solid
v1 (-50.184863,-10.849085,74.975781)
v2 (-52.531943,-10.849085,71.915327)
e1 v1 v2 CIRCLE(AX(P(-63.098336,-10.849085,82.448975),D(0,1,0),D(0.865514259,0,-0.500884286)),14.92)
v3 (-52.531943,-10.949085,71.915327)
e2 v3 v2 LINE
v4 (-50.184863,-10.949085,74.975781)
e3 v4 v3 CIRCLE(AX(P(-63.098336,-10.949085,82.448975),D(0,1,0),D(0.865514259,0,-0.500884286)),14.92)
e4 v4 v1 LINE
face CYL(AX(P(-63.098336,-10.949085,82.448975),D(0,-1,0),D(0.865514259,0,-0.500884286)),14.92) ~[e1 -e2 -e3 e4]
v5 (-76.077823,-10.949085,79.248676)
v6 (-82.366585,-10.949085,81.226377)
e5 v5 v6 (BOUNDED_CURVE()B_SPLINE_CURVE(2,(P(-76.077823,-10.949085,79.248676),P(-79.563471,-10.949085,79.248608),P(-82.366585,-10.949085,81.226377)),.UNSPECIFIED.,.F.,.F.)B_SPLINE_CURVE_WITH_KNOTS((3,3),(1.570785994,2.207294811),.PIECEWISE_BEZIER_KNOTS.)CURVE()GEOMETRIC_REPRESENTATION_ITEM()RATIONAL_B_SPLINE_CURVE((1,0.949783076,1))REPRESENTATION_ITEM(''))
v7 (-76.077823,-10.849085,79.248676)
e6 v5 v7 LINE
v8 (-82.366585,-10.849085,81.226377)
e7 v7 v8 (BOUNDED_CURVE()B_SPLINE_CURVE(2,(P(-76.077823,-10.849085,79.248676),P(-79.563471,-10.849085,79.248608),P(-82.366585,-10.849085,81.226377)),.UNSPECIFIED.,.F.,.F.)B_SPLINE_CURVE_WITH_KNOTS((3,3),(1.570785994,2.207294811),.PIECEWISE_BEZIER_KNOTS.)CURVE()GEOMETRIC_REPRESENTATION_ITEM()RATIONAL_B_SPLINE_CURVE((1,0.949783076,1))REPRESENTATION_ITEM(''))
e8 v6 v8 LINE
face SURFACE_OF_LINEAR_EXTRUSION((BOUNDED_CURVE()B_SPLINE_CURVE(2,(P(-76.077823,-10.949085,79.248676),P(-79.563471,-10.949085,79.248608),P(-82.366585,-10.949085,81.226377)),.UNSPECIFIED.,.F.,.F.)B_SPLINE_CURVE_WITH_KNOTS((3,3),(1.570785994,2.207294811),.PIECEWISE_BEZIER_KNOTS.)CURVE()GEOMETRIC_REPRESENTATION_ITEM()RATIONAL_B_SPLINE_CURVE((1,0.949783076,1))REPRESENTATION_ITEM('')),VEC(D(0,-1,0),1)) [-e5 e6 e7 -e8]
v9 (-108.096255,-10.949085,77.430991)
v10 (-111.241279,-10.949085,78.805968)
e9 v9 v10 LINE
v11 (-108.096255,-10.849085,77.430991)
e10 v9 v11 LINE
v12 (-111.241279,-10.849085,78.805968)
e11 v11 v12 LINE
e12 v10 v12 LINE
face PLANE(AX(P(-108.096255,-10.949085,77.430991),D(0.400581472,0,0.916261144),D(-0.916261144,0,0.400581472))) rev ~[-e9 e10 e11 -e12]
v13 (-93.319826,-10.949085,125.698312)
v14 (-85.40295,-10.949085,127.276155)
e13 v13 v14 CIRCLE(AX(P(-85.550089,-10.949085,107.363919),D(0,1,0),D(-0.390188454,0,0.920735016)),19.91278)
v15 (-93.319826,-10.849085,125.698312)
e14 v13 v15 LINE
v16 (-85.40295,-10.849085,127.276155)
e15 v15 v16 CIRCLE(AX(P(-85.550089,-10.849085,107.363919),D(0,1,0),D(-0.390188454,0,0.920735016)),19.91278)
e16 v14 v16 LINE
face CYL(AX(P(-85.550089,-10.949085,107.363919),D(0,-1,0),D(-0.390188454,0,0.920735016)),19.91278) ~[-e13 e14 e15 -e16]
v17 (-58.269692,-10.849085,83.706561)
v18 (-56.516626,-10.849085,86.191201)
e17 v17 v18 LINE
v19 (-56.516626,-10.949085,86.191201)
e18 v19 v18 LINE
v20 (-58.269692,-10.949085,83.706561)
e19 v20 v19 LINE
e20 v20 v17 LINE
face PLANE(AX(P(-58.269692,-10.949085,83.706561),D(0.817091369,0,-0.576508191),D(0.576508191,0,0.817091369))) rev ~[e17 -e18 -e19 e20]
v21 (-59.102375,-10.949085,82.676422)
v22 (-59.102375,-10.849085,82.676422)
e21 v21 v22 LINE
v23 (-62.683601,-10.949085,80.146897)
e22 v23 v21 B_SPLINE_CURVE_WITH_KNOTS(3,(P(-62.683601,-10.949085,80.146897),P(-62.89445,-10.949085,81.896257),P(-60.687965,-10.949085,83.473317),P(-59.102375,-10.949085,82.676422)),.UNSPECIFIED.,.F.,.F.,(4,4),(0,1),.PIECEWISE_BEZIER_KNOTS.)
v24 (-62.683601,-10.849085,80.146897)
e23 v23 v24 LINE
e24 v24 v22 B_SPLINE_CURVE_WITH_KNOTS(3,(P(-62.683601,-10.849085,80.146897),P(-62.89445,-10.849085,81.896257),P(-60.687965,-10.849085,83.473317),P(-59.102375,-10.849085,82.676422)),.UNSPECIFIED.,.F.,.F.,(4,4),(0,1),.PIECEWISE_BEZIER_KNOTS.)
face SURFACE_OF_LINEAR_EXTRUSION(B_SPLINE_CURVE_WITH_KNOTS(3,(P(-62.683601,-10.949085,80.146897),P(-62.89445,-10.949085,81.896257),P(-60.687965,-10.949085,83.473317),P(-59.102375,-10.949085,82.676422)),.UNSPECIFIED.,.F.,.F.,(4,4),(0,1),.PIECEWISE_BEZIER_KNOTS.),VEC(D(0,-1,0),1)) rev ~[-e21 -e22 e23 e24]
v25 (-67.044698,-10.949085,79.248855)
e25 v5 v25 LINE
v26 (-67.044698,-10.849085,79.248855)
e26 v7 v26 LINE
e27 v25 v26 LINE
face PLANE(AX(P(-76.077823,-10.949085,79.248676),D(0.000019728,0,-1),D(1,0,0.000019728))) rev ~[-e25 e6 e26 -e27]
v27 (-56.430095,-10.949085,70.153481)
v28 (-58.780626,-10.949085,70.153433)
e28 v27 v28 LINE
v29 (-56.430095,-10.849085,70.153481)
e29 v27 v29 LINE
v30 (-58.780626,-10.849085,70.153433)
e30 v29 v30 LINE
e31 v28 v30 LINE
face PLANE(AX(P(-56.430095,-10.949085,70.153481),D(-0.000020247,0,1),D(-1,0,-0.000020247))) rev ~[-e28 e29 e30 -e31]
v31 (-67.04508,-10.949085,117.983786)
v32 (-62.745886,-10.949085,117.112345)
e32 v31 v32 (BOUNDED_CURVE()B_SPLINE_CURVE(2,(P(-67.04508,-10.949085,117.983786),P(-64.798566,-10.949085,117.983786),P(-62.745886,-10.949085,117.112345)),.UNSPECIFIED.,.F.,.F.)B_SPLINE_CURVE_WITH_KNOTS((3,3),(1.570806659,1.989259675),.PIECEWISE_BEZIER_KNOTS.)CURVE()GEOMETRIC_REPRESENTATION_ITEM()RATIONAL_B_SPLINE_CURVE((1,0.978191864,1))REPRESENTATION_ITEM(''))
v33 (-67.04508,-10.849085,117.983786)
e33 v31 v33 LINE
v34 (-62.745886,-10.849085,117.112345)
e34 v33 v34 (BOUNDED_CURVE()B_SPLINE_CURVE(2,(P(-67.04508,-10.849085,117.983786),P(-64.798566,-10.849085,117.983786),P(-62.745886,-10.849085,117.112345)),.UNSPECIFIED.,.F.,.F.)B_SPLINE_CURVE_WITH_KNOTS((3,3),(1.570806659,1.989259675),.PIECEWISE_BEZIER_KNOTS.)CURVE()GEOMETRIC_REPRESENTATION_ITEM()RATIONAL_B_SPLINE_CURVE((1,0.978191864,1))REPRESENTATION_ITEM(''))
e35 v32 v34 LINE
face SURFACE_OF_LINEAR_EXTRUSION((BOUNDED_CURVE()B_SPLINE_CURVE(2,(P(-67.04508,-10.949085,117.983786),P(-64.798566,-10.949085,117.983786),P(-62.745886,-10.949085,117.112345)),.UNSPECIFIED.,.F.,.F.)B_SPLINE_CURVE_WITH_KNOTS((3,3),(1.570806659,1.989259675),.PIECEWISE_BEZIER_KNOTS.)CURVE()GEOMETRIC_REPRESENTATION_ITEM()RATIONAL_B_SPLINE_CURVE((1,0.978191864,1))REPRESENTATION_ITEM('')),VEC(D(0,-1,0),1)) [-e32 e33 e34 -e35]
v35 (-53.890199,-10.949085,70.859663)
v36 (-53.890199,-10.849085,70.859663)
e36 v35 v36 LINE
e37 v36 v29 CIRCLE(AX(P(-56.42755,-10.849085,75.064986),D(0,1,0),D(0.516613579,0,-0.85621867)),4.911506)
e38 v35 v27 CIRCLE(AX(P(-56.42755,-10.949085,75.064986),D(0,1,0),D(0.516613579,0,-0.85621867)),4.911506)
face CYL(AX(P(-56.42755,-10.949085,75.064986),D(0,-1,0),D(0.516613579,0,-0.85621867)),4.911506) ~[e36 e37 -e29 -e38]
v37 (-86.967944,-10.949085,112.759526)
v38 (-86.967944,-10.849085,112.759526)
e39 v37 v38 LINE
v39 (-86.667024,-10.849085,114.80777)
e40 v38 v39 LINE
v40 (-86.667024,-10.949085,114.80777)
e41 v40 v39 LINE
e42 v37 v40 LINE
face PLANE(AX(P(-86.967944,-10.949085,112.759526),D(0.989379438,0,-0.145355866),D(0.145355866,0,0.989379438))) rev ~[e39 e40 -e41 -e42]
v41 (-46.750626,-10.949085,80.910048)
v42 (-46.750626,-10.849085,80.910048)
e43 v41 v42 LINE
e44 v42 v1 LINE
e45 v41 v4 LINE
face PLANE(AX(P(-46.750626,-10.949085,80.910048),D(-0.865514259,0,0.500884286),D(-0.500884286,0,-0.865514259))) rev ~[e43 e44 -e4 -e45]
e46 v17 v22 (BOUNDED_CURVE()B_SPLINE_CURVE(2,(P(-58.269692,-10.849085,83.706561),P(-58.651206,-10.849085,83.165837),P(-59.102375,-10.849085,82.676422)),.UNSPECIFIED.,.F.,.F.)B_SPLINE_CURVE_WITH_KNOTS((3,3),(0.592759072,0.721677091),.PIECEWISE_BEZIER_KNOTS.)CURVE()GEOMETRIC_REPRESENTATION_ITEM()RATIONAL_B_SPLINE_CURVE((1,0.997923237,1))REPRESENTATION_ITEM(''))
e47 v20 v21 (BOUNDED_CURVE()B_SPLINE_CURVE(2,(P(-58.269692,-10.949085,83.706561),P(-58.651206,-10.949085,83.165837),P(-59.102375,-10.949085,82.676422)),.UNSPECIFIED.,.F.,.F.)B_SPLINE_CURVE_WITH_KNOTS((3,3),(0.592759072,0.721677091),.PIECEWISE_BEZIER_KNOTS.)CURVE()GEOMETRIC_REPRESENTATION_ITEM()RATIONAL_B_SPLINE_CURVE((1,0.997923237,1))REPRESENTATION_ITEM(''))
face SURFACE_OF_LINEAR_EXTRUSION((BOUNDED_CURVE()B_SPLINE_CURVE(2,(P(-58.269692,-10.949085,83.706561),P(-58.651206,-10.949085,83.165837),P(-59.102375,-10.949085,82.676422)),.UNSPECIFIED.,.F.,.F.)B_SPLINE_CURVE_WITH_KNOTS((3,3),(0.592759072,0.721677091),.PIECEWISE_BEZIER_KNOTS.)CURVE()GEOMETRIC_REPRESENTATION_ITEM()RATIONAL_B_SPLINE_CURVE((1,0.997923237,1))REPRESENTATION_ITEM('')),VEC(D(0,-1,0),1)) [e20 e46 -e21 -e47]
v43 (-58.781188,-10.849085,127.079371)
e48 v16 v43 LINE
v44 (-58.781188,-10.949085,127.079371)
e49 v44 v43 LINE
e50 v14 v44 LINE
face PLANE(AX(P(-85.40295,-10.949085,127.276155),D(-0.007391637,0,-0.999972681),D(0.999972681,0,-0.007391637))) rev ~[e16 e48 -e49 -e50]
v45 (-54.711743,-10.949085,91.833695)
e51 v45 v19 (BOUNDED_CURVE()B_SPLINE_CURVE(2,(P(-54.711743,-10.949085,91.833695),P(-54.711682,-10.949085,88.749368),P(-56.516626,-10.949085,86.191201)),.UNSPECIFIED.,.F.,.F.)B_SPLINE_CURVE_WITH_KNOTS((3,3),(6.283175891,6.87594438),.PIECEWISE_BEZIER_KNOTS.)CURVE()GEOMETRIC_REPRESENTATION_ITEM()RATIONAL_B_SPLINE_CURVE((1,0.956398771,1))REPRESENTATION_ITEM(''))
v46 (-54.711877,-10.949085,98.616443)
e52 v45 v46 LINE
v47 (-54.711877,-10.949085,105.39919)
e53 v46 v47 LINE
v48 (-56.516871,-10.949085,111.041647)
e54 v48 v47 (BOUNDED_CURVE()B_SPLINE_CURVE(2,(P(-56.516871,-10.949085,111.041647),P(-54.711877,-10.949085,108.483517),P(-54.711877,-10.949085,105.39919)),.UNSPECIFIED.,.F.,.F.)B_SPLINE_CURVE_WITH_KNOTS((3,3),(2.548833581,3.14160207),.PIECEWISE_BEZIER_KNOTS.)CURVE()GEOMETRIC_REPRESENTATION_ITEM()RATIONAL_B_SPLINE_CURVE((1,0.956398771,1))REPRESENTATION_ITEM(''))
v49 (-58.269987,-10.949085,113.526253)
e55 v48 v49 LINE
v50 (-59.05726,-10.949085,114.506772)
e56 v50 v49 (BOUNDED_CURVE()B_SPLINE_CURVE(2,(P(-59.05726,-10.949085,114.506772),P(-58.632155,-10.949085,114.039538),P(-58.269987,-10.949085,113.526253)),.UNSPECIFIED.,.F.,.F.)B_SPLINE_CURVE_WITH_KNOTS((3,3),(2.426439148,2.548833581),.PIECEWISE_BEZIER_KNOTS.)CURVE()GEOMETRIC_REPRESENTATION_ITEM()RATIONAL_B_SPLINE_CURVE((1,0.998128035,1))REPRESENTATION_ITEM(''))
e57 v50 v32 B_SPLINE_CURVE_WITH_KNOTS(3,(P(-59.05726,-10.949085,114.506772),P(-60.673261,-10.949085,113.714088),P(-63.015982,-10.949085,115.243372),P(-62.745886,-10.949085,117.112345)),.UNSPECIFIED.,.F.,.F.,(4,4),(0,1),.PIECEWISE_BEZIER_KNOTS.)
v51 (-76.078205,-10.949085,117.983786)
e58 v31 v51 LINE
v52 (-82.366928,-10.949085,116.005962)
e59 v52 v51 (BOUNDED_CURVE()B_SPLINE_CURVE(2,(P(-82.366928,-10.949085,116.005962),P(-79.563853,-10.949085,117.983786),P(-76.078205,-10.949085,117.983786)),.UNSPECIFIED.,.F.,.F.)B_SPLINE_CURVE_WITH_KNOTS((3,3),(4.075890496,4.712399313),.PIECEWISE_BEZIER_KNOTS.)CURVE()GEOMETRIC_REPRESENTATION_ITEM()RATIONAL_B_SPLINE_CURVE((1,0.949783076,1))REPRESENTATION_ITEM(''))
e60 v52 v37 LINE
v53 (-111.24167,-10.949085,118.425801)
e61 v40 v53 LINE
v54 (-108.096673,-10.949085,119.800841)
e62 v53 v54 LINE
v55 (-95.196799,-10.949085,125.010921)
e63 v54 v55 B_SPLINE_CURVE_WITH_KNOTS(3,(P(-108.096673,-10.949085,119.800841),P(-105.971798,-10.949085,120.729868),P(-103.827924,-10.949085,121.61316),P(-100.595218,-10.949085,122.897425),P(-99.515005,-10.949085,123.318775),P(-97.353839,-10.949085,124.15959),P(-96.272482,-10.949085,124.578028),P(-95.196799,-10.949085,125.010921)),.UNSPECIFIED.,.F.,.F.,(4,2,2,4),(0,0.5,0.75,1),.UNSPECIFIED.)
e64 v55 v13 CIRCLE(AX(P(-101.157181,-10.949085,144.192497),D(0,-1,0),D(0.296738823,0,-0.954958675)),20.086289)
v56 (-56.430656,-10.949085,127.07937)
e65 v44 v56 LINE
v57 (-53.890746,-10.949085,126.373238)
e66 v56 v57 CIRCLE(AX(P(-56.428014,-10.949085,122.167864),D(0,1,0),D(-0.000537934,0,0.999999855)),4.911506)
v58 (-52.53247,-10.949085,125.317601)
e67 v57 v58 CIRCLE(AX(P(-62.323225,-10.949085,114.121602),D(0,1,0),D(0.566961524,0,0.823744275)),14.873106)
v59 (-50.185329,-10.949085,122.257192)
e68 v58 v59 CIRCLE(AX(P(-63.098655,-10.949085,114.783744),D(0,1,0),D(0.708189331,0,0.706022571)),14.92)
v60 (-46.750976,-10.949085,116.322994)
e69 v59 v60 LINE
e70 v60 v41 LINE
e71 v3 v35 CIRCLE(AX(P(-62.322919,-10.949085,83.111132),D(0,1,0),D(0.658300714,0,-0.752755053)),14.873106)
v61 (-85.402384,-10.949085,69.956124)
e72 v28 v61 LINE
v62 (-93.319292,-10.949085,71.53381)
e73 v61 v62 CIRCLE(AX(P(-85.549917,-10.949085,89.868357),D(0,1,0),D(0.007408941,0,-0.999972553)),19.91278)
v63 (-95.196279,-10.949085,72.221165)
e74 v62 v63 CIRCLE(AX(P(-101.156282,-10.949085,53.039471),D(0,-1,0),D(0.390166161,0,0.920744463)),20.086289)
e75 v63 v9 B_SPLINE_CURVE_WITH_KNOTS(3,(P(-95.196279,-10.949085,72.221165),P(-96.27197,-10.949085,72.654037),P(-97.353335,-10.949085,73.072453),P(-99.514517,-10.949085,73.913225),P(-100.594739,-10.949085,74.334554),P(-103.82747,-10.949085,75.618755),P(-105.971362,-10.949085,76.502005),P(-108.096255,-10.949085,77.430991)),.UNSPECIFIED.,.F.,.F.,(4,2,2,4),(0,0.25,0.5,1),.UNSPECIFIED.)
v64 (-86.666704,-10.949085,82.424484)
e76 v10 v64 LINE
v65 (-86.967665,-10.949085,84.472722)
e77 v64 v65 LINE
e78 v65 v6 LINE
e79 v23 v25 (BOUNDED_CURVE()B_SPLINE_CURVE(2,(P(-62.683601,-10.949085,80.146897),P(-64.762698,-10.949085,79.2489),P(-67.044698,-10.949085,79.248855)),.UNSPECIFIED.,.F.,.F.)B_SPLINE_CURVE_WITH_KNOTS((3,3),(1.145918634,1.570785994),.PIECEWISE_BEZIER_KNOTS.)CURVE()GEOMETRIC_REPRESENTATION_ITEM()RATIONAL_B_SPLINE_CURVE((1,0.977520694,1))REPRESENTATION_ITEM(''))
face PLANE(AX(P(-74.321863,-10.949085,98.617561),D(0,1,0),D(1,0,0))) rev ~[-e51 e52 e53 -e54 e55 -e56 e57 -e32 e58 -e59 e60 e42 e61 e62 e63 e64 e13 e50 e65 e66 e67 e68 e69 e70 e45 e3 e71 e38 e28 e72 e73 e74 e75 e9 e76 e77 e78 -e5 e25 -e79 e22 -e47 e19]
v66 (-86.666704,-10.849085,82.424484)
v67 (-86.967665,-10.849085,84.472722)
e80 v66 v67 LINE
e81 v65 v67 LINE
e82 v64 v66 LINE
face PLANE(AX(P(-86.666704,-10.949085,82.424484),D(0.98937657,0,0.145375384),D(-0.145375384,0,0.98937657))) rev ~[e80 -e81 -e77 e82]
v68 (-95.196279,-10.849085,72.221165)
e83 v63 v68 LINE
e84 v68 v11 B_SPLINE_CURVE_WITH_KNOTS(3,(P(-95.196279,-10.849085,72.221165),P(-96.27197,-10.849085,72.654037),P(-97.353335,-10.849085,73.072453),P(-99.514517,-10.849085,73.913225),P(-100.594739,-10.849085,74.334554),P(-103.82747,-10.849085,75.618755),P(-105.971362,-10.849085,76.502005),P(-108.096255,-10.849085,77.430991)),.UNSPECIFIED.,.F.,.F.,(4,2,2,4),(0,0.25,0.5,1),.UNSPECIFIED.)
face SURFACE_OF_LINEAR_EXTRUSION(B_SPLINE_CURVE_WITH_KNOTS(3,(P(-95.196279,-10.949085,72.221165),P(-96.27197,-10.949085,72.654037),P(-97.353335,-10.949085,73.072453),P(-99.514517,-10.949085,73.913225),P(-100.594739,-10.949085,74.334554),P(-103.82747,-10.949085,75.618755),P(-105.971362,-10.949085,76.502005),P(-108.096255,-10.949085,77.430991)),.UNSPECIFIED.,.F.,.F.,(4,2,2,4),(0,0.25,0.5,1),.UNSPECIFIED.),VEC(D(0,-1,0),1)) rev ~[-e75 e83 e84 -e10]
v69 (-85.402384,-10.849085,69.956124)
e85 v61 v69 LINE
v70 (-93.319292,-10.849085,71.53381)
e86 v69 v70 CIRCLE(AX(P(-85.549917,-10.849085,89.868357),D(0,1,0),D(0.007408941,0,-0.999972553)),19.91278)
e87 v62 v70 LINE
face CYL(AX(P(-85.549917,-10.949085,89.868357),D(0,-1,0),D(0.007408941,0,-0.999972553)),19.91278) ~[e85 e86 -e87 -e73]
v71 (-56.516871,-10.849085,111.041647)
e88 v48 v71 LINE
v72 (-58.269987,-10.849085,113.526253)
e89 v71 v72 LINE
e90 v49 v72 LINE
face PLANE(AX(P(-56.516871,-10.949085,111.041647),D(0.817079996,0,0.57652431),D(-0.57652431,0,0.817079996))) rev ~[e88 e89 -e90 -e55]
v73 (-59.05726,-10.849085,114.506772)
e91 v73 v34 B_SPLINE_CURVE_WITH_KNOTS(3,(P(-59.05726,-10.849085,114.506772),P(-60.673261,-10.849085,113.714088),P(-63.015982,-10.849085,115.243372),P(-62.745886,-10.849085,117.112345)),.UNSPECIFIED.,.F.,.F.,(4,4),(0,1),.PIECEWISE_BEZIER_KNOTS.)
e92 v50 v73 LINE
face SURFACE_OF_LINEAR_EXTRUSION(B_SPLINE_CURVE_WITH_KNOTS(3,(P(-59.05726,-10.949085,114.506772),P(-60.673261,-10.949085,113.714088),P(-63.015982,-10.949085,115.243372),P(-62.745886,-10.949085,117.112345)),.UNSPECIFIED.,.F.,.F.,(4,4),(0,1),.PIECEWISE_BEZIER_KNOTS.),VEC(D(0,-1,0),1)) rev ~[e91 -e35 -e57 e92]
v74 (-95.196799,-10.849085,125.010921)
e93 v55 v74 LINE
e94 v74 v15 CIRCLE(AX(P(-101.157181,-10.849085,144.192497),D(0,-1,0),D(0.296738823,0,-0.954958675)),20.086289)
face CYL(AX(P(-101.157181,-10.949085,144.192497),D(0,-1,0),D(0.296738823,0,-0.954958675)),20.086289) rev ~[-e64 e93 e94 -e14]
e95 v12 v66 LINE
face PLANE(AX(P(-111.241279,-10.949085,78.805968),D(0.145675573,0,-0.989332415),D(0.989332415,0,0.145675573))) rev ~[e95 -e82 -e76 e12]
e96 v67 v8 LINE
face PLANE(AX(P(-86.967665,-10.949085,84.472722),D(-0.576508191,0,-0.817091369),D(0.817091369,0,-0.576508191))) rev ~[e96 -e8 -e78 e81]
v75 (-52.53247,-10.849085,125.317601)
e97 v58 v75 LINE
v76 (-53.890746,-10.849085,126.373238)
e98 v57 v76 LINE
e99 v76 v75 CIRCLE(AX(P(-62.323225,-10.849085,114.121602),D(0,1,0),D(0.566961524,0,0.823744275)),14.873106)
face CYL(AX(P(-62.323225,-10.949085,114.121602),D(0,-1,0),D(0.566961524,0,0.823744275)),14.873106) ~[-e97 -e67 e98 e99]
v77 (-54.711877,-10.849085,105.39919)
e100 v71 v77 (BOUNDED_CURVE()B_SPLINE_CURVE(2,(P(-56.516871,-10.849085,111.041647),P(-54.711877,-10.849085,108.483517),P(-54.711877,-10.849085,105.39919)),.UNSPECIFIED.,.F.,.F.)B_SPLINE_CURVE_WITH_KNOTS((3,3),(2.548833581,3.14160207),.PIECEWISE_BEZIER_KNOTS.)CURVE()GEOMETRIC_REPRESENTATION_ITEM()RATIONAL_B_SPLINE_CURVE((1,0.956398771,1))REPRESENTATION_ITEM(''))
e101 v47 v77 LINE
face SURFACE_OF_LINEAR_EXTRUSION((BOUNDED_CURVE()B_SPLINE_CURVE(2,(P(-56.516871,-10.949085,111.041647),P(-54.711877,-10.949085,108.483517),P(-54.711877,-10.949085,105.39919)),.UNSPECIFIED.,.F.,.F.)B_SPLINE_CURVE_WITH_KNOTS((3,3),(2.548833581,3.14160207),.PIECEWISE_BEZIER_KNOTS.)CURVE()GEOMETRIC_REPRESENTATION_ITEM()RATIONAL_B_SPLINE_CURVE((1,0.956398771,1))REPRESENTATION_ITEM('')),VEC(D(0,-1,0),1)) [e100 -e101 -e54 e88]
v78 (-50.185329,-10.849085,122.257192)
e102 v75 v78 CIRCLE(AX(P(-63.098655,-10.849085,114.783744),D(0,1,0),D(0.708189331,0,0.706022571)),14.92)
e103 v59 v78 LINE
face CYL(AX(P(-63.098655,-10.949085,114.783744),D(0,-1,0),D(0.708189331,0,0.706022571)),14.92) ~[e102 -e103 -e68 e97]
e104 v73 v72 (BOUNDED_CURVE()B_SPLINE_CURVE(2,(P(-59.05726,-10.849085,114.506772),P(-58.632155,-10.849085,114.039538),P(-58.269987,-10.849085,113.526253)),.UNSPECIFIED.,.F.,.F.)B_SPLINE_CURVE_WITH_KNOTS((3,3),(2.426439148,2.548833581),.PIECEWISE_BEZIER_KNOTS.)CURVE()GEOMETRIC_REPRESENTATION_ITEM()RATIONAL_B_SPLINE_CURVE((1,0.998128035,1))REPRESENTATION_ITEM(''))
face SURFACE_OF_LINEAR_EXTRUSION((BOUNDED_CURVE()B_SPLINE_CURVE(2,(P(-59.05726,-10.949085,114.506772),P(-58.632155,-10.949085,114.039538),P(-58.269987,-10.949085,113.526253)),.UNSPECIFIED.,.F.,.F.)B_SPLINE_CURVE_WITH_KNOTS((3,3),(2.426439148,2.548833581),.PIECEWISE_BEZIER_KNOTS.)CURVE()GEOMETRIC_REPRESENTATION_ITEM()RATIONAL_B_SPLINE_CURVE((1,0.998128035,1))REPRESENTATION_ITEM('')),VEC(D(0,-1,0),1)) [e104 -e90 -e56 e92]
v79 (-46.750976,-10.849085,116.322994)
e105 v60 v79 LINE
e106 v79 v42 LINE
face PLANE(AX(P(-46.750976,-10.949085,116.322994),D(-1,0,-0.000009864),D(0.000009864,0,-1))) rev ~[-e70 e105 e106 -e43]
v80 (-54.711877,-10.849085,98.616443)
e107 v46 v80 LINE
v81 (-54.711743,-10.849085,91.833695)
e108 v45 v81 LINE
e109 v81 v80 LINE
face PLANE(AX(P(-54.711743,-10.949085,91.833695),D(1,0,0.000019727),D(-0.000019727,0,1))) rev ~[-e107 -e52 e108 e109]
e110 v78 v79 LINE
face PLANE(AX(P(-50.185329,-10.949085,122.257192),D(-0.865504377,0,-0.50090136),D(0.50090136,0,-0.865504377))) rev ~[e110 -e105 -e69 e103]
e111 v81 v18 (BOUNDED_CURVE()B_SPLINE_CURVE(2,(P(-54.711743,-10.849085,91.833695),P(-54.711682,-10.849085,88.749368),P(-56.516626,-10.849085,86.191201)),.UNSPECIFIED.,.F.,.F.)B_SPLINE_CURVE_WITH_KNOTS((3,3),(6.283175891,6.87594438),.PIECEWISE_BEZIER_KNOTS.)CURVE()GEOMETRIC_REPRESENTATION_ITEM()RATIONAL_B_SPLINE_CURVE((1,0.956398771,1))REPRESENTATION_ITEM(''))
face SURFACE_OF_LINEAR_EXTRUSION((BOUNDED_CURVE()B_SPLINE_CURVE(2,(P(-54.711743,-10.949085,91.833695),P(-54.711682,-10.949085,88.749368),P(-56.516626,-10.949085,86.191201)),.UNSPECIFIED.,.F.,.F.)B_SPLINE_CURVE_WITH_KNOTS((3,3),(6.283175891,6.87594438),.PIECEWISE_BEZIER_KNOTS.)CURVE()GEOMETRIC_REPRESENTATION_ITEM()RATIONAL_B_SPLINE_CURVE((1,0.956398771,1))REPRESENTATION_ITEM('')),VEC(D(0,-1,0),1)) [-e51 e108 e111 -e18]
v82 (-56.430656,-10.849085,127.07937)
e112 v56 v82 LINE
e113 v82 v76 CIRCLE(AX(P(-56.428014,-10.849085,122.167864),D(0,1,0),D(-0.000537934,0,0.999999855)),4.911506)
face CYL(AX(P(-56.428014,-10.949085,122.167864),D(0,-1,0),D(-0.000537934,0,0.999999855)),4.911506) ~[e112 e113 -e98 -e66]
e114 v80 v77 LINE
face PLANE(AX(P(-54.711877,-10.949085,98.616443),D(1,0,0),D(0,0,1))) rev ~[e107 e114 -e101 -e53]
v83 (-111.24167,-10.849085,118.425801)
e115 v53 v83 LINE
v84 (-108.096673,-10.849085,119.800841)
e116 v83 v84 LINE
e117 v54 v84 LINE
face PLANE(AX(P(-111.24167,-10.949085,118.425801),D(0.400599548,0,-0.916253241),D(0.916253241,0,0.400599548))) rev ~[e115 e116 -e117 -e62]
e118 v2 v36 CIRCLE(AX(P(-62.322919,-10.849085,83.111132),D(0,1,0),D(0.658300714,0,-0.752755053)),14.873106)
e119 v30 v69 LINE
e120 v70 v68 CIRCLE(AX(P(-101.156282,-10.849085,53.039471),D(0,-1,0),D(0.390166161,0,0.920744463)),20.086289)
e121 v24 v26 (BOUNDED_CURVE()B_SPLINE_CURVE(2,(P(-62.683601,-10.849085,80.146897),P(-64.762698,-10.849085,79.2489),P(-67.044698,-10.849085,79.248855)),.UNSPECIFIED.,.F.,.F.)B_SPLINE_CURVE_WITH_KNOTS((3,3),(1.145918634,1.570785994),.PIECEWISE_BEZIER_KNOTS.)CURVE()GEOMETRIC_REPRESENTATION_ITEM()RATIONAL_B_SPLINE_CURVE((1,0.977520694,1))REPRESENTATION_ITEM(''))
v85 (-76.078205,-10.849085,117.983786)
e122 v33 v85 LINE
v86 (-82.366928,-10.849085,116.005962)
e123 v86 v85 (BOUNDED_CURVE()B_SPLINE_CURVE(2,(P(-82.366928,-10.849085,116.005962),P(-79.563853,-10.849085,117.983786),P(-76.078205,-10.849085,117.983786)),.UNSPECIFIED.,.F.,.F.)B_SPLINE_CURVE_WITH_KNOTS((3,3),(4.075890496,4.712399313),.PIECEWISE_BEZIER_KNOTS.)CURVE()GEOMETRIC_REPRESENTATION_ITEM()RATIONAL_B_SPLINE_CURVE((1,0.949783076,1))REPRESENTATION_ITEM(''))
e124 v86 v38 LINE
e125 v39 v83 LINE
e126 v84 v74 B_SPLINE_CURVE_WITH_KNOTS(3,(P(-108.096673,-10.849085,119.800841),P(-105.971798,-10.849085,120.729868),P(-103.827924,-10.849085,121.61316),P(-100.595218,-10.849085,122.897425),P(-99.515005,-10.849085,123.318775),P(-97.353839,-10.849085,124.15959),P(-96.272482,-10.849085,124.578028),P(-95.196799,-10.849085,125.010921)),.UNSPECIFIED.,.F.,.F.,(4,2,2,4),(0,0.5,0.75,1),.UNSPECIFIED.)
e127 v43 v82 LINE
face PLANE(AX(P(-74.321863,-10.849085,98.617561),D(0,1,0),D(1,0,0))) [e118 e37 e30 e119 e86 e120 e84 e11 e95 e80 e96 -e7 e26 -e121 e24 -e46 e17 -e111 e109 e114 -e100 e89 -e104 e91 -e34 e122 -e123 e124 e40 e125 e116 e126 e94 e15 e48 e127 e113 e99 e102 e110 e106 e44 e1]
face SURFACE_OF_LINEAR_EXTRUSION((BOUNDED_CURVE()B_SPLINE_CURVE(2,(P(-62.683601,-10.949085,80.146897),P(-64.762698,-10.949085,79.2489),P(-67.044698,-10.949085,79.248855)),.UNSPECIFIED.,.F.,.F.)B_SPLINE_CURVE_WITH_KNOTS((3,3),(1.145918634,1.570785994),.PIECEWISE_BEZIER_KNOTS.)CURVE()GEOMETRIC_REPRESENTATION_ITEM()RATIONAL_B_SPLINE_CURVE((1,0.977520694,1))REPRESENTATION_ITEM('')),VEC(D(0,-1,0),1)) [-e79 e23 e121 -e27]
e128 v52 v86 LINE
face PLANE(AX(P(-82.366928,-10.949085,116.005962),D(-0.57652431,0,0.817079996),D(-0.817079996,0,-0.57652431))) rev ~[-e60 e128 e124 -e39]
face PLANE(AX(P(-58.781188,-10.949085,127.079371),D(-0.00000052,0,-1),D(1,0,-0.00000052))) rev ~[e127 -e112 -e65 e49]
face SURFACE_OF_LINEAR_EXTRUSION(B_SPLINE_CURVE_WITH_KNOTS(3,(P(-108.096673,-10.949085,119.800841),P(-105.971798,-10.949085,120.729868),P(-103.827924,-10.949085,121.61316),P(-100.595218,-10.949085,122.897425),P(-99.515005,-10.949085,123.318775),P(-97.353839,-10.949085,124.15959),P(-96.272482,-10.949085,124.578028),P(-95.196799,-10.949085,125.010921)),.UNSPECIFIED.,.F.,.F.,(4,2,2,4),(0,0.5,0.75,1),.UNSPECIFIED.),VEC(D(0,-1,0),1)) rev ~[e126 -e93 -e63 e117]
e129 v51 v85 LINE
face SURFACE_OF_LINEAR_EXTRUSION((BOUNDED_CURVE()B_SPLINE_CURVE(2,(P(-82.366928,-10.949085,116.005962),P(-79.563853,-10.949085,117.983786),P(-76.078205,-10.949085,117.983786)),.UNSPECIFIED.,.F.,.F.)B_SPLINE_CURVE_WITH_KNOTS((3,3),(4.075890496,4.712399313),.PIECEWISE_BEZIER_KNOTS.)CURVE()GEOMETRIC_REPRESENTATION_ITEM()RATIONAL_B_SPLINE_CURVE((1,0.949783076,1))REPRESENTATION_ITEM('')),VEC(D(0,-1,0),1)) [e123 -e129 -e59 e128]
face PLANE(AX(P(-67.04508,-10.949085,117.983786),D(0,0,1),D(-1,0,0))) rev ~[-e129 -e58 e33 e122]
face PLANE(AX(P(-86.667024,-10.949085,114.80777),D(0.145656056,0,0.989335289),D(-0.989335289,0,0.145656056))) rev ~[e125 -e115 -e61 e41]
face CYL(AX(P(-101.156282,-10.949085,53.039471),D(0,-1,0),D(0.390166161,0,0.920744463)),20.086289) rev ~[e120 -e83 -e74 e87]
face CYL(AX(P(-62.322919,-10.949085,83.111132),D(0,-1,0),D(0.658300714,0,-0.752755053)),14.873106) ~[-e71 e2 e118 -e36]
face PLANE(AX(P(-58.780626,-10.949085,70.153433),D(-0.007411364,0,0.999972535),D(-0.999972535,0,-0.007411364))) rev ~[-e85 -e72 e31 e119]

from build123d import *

# Parameters (mm, degrees)
EXTRUDE_1_DEPTH = 0.1


with BuildPart() as part:
    # 草图1 → 凸台-拉伸1 (new body)
    with BuildSketch(Plane(origin=(0, -10.949084909, 0), x_dir=(1, 0, 0), z_dir=(0, 1, 0))):
        with BuildLine():
            Line((-67.045080203, -117.983786499), (-76.078205458, -117.983786499))
            add(Edge.make_bspline(
                [(-82.366927771, -116.005961919), (-79.563852737, -117.983786499), (-76.078205458, -117.983786499)],
                knots=[4.075890496, 4.075890496, 4.075890496, 4.712399313, 4.712399313, 4.712399313], degree=2, weights=[1, 0.949783076, 1]))
            Line((-82.366927771, -116.005961919), (-86.967943677, -112.759526398))
            Line((-86.967943677, -112.759526398), (-86.66702356, -114.807769687))
            Line((-86.66702356, -114.807769687), (-111.241670212, -118.425801057))
            Line((-111.241670212, -118.425801057), (-108.0966731, -119.800840581))
            add(Edge.make_bspline(
                [(-108.0966731, -119.800840581), (-105.971797962, -120.729867602), (-103.827924135, -121.613160044), (-100.595217951, -122.897424713), (-99.515004816, -123.318774975), (-97.353838597, -124.159590102), (-96.272482279, -124.578027529), (-95.196799494, -125.010921142)],
                knots=[0, 0, 0, 0, 0.5, 0.5, 0.75, 0.75, 1, 1, 1, 1], degree=3))
            ThreePointArc((-95.196799494, -125.010921142), (-94.249756822, -125.33125391), (-93.31982615, -125.698312286))
            ThreePointArc((-93.31982615, -125.698312286), (-89.442183041, -126.892625888), (-85.402949621, -127.276154819))
            Line((-85.402949621, -127.276154819), (-58.781187755, -127.079371035))
            Line((-58.781187755, -127.079371035), (-56.430656299, -127.079369812))
            ThreePointArc((-56.430656299, -127.079369812), (-55.112439193, -126.899899352), (-53.890746331, -126.373237664))
            ThreePointArc((-53.890746331, -126.373237664), (-53.196333096, -125.865073255), (-52.53246977, -125.317600615))
            ThreePointArc((-52.53246977, -125.317600615), (-51.259593224, -123.863558054), (-50.185329276, -122.257192143))
            Line((-50.185329276, -122.257192143), (-46.750975764, -116.322993851))
            Line((-46.750975764, -116.322993851), (-46.75062646, -80.91004751))
            Line((-46.75062646, -80.91004751), (-50.184862905, -74.975781469))
            ThreePointArc((-50.184862905, -74.975781469), (-51.259095163, -73.369394365), (-52.531943024, -71.915326694))
            ThreePointArc((-52.531943024, -71.915326694), (-53.19579555, -71.367840957), (-53.89019876, -70.859662849))
            ThreePointArc((-53.89019876, -70.859662849), (-55.111881232, -70.33297706), (-56.430094797, -70.153480595))
            Line((-56.430094797, -70.153480595), (-58.780626253, -70.153433003))
            Line((-58.780626253, -70.153433003), (-85.402384232, -69.956124039))
            ThreePointArc((-85.402384232, -69.956124039), (-89.441625217, -70.339573285), (-93.319291886, -71.533810391))
            ThreePointArc((-93.319291886, -71.533810391), (-94.249229798, -71.900850422), (-95.19627879, -72.221164507))
            add(Edge.make_bspline(
                [(-95.19627879, -72.221164507), (-96.271970115, -72.6540369), (-97.353334687, -73.072452994), (-99.514517493, -73.913225487), (-100.59473894, -74.334554439), (-103.827470458, -75.618755334), (-105.97136171, -76.502005483), (-108.096255175, -77.430990586)],
                knots=[0, 0, 0, 0, 0.25, 0.25, 0.5, 0.5, 1, 1, 1, 1], degree=3))
            Line((-108.096255175, -77.430990586), (-111.241279412, -78.805968066))
            Line((-111.241279412, -78.805968066), (-86.66670414, -82.424484231))
            Line((-86.66670414, -82.424484231), (-86.967664664, -84.472721583))
            Line((-86.967664664, -84.472721583), (-82.366584714, -81.22637683))
            add(Edge.make_bspline(
                [(-76.077823385, -79.24867631), (-79.563470664, -79.248607547), (-82.366584714, -81.22637683)],
                knots=[1.570785994, 1.570785994, 1.570785994, 2.207294811, 2.207294811, 2.207294811], degree=2, weights=[1, 0.949783076, 1]))
            Line((-76.077823385, -79.24867631), (-67.044698132, -79.248854511))
            add(Edge.make_bspline(
                [(-62.683601233, -80.146897051), (-64.762697974, -79.248899529), (-67.044698132, -79.248854511)],
                knots=[1.145918634, 1.145918634, 1.145918634, 1.570785994, 1.570785994, 1.570785994], degree=2, weights=[1, 0.977520694, 1]))
            add(Edge.make_bspline(
                [(-62.683601233, -80.146897051), (-62.894449532, -81.896256877), (-60.687964501, -83.473316782), (-59.102374608, -82.676422485)],
                knots=[0, 0, 0, 0, 1, 1, 1, 1], degree=3))
            add(Edge.make_bspline(
                [(-58.26969245, -83.706560633), (-58.651206281, -83.165836905), (-59.102374608, -82.676422485)],
                knots=[0.592759072, 0.592759072, 0.592759072, 0.721677091, 0.721677091, 0.721677091], degree=2, weights=[1, 0.997923237, 1]))
            Line((-58.26969245, -83.706560633), (-56.516625716, -86.191201302))
            add(Edge.make_bspline(
                [(-54.711742979, -91.83369464), (-54.711682133, -88.749367598), (-56.516625716, -86.191201302)],
                knots=[6.283175891, 6.283175891, 6.283175891, 6.87594438, 6.87594438, 6.87594438], degree=2, weights=[1, 0.956398771, 1]))
            Line((-54.711742979, -91.83369464), (-54.711876785, -98.616442891))
            Line((-54.711876785, -98.616442891), (-54.711876785, -105.39918967))
            add(Edge.make_bspline(
                [(-56.516870834, -111.041647402), (-54.711876785, -108.483516713), (-54.711876785, -105.39918967)],
                knots=[2.548833581, 2.548833581, 2.548833581, 3.14160207, 3.14160207, 3.14160207], degree=2, weights=[1, 0.956398771, 1]))
            Line((-56.516870834, -111.041647402), (-58.269986584, -113.526253487))
            add(Edge.make_bspline(
                [(-59.057260101, -114.506771823), (-58.63215538, -114.039537789), (-58.269986584, -113.526253487)],
                knots=[2.426439148, 2.426439148, 2.426439148, 2.548833581, 2.548833581, 2.548833581], degree=2, weights=[1, 0.998128035, 1]))
            add(Edge.make_bspline(
                [(-59.057260101, -114.506771823), (-60.673260847, -113.714088204), (-63.015981908, -115.243372449), (-62.745885648, -117.112344827)],
                knots=[0, 0, 0, 0, 1, 1, 1, 1], degree=3))
            add(Edge.make_bspline(
                [(-67.045080203, -117.983786499), (-64.798566381, -117.983786499), (-62.745885648, -117.112344827)],
                knots=[1.570806659, 1.570806659, 1.570806659, 1.989259675, 1.989259675, 1.989259675], degree=2, weights=[1, 0.978191864, 1]))
        make_face()
    extrude(amount=EXTRUDE_1_DEPTH)


solid = part.part
